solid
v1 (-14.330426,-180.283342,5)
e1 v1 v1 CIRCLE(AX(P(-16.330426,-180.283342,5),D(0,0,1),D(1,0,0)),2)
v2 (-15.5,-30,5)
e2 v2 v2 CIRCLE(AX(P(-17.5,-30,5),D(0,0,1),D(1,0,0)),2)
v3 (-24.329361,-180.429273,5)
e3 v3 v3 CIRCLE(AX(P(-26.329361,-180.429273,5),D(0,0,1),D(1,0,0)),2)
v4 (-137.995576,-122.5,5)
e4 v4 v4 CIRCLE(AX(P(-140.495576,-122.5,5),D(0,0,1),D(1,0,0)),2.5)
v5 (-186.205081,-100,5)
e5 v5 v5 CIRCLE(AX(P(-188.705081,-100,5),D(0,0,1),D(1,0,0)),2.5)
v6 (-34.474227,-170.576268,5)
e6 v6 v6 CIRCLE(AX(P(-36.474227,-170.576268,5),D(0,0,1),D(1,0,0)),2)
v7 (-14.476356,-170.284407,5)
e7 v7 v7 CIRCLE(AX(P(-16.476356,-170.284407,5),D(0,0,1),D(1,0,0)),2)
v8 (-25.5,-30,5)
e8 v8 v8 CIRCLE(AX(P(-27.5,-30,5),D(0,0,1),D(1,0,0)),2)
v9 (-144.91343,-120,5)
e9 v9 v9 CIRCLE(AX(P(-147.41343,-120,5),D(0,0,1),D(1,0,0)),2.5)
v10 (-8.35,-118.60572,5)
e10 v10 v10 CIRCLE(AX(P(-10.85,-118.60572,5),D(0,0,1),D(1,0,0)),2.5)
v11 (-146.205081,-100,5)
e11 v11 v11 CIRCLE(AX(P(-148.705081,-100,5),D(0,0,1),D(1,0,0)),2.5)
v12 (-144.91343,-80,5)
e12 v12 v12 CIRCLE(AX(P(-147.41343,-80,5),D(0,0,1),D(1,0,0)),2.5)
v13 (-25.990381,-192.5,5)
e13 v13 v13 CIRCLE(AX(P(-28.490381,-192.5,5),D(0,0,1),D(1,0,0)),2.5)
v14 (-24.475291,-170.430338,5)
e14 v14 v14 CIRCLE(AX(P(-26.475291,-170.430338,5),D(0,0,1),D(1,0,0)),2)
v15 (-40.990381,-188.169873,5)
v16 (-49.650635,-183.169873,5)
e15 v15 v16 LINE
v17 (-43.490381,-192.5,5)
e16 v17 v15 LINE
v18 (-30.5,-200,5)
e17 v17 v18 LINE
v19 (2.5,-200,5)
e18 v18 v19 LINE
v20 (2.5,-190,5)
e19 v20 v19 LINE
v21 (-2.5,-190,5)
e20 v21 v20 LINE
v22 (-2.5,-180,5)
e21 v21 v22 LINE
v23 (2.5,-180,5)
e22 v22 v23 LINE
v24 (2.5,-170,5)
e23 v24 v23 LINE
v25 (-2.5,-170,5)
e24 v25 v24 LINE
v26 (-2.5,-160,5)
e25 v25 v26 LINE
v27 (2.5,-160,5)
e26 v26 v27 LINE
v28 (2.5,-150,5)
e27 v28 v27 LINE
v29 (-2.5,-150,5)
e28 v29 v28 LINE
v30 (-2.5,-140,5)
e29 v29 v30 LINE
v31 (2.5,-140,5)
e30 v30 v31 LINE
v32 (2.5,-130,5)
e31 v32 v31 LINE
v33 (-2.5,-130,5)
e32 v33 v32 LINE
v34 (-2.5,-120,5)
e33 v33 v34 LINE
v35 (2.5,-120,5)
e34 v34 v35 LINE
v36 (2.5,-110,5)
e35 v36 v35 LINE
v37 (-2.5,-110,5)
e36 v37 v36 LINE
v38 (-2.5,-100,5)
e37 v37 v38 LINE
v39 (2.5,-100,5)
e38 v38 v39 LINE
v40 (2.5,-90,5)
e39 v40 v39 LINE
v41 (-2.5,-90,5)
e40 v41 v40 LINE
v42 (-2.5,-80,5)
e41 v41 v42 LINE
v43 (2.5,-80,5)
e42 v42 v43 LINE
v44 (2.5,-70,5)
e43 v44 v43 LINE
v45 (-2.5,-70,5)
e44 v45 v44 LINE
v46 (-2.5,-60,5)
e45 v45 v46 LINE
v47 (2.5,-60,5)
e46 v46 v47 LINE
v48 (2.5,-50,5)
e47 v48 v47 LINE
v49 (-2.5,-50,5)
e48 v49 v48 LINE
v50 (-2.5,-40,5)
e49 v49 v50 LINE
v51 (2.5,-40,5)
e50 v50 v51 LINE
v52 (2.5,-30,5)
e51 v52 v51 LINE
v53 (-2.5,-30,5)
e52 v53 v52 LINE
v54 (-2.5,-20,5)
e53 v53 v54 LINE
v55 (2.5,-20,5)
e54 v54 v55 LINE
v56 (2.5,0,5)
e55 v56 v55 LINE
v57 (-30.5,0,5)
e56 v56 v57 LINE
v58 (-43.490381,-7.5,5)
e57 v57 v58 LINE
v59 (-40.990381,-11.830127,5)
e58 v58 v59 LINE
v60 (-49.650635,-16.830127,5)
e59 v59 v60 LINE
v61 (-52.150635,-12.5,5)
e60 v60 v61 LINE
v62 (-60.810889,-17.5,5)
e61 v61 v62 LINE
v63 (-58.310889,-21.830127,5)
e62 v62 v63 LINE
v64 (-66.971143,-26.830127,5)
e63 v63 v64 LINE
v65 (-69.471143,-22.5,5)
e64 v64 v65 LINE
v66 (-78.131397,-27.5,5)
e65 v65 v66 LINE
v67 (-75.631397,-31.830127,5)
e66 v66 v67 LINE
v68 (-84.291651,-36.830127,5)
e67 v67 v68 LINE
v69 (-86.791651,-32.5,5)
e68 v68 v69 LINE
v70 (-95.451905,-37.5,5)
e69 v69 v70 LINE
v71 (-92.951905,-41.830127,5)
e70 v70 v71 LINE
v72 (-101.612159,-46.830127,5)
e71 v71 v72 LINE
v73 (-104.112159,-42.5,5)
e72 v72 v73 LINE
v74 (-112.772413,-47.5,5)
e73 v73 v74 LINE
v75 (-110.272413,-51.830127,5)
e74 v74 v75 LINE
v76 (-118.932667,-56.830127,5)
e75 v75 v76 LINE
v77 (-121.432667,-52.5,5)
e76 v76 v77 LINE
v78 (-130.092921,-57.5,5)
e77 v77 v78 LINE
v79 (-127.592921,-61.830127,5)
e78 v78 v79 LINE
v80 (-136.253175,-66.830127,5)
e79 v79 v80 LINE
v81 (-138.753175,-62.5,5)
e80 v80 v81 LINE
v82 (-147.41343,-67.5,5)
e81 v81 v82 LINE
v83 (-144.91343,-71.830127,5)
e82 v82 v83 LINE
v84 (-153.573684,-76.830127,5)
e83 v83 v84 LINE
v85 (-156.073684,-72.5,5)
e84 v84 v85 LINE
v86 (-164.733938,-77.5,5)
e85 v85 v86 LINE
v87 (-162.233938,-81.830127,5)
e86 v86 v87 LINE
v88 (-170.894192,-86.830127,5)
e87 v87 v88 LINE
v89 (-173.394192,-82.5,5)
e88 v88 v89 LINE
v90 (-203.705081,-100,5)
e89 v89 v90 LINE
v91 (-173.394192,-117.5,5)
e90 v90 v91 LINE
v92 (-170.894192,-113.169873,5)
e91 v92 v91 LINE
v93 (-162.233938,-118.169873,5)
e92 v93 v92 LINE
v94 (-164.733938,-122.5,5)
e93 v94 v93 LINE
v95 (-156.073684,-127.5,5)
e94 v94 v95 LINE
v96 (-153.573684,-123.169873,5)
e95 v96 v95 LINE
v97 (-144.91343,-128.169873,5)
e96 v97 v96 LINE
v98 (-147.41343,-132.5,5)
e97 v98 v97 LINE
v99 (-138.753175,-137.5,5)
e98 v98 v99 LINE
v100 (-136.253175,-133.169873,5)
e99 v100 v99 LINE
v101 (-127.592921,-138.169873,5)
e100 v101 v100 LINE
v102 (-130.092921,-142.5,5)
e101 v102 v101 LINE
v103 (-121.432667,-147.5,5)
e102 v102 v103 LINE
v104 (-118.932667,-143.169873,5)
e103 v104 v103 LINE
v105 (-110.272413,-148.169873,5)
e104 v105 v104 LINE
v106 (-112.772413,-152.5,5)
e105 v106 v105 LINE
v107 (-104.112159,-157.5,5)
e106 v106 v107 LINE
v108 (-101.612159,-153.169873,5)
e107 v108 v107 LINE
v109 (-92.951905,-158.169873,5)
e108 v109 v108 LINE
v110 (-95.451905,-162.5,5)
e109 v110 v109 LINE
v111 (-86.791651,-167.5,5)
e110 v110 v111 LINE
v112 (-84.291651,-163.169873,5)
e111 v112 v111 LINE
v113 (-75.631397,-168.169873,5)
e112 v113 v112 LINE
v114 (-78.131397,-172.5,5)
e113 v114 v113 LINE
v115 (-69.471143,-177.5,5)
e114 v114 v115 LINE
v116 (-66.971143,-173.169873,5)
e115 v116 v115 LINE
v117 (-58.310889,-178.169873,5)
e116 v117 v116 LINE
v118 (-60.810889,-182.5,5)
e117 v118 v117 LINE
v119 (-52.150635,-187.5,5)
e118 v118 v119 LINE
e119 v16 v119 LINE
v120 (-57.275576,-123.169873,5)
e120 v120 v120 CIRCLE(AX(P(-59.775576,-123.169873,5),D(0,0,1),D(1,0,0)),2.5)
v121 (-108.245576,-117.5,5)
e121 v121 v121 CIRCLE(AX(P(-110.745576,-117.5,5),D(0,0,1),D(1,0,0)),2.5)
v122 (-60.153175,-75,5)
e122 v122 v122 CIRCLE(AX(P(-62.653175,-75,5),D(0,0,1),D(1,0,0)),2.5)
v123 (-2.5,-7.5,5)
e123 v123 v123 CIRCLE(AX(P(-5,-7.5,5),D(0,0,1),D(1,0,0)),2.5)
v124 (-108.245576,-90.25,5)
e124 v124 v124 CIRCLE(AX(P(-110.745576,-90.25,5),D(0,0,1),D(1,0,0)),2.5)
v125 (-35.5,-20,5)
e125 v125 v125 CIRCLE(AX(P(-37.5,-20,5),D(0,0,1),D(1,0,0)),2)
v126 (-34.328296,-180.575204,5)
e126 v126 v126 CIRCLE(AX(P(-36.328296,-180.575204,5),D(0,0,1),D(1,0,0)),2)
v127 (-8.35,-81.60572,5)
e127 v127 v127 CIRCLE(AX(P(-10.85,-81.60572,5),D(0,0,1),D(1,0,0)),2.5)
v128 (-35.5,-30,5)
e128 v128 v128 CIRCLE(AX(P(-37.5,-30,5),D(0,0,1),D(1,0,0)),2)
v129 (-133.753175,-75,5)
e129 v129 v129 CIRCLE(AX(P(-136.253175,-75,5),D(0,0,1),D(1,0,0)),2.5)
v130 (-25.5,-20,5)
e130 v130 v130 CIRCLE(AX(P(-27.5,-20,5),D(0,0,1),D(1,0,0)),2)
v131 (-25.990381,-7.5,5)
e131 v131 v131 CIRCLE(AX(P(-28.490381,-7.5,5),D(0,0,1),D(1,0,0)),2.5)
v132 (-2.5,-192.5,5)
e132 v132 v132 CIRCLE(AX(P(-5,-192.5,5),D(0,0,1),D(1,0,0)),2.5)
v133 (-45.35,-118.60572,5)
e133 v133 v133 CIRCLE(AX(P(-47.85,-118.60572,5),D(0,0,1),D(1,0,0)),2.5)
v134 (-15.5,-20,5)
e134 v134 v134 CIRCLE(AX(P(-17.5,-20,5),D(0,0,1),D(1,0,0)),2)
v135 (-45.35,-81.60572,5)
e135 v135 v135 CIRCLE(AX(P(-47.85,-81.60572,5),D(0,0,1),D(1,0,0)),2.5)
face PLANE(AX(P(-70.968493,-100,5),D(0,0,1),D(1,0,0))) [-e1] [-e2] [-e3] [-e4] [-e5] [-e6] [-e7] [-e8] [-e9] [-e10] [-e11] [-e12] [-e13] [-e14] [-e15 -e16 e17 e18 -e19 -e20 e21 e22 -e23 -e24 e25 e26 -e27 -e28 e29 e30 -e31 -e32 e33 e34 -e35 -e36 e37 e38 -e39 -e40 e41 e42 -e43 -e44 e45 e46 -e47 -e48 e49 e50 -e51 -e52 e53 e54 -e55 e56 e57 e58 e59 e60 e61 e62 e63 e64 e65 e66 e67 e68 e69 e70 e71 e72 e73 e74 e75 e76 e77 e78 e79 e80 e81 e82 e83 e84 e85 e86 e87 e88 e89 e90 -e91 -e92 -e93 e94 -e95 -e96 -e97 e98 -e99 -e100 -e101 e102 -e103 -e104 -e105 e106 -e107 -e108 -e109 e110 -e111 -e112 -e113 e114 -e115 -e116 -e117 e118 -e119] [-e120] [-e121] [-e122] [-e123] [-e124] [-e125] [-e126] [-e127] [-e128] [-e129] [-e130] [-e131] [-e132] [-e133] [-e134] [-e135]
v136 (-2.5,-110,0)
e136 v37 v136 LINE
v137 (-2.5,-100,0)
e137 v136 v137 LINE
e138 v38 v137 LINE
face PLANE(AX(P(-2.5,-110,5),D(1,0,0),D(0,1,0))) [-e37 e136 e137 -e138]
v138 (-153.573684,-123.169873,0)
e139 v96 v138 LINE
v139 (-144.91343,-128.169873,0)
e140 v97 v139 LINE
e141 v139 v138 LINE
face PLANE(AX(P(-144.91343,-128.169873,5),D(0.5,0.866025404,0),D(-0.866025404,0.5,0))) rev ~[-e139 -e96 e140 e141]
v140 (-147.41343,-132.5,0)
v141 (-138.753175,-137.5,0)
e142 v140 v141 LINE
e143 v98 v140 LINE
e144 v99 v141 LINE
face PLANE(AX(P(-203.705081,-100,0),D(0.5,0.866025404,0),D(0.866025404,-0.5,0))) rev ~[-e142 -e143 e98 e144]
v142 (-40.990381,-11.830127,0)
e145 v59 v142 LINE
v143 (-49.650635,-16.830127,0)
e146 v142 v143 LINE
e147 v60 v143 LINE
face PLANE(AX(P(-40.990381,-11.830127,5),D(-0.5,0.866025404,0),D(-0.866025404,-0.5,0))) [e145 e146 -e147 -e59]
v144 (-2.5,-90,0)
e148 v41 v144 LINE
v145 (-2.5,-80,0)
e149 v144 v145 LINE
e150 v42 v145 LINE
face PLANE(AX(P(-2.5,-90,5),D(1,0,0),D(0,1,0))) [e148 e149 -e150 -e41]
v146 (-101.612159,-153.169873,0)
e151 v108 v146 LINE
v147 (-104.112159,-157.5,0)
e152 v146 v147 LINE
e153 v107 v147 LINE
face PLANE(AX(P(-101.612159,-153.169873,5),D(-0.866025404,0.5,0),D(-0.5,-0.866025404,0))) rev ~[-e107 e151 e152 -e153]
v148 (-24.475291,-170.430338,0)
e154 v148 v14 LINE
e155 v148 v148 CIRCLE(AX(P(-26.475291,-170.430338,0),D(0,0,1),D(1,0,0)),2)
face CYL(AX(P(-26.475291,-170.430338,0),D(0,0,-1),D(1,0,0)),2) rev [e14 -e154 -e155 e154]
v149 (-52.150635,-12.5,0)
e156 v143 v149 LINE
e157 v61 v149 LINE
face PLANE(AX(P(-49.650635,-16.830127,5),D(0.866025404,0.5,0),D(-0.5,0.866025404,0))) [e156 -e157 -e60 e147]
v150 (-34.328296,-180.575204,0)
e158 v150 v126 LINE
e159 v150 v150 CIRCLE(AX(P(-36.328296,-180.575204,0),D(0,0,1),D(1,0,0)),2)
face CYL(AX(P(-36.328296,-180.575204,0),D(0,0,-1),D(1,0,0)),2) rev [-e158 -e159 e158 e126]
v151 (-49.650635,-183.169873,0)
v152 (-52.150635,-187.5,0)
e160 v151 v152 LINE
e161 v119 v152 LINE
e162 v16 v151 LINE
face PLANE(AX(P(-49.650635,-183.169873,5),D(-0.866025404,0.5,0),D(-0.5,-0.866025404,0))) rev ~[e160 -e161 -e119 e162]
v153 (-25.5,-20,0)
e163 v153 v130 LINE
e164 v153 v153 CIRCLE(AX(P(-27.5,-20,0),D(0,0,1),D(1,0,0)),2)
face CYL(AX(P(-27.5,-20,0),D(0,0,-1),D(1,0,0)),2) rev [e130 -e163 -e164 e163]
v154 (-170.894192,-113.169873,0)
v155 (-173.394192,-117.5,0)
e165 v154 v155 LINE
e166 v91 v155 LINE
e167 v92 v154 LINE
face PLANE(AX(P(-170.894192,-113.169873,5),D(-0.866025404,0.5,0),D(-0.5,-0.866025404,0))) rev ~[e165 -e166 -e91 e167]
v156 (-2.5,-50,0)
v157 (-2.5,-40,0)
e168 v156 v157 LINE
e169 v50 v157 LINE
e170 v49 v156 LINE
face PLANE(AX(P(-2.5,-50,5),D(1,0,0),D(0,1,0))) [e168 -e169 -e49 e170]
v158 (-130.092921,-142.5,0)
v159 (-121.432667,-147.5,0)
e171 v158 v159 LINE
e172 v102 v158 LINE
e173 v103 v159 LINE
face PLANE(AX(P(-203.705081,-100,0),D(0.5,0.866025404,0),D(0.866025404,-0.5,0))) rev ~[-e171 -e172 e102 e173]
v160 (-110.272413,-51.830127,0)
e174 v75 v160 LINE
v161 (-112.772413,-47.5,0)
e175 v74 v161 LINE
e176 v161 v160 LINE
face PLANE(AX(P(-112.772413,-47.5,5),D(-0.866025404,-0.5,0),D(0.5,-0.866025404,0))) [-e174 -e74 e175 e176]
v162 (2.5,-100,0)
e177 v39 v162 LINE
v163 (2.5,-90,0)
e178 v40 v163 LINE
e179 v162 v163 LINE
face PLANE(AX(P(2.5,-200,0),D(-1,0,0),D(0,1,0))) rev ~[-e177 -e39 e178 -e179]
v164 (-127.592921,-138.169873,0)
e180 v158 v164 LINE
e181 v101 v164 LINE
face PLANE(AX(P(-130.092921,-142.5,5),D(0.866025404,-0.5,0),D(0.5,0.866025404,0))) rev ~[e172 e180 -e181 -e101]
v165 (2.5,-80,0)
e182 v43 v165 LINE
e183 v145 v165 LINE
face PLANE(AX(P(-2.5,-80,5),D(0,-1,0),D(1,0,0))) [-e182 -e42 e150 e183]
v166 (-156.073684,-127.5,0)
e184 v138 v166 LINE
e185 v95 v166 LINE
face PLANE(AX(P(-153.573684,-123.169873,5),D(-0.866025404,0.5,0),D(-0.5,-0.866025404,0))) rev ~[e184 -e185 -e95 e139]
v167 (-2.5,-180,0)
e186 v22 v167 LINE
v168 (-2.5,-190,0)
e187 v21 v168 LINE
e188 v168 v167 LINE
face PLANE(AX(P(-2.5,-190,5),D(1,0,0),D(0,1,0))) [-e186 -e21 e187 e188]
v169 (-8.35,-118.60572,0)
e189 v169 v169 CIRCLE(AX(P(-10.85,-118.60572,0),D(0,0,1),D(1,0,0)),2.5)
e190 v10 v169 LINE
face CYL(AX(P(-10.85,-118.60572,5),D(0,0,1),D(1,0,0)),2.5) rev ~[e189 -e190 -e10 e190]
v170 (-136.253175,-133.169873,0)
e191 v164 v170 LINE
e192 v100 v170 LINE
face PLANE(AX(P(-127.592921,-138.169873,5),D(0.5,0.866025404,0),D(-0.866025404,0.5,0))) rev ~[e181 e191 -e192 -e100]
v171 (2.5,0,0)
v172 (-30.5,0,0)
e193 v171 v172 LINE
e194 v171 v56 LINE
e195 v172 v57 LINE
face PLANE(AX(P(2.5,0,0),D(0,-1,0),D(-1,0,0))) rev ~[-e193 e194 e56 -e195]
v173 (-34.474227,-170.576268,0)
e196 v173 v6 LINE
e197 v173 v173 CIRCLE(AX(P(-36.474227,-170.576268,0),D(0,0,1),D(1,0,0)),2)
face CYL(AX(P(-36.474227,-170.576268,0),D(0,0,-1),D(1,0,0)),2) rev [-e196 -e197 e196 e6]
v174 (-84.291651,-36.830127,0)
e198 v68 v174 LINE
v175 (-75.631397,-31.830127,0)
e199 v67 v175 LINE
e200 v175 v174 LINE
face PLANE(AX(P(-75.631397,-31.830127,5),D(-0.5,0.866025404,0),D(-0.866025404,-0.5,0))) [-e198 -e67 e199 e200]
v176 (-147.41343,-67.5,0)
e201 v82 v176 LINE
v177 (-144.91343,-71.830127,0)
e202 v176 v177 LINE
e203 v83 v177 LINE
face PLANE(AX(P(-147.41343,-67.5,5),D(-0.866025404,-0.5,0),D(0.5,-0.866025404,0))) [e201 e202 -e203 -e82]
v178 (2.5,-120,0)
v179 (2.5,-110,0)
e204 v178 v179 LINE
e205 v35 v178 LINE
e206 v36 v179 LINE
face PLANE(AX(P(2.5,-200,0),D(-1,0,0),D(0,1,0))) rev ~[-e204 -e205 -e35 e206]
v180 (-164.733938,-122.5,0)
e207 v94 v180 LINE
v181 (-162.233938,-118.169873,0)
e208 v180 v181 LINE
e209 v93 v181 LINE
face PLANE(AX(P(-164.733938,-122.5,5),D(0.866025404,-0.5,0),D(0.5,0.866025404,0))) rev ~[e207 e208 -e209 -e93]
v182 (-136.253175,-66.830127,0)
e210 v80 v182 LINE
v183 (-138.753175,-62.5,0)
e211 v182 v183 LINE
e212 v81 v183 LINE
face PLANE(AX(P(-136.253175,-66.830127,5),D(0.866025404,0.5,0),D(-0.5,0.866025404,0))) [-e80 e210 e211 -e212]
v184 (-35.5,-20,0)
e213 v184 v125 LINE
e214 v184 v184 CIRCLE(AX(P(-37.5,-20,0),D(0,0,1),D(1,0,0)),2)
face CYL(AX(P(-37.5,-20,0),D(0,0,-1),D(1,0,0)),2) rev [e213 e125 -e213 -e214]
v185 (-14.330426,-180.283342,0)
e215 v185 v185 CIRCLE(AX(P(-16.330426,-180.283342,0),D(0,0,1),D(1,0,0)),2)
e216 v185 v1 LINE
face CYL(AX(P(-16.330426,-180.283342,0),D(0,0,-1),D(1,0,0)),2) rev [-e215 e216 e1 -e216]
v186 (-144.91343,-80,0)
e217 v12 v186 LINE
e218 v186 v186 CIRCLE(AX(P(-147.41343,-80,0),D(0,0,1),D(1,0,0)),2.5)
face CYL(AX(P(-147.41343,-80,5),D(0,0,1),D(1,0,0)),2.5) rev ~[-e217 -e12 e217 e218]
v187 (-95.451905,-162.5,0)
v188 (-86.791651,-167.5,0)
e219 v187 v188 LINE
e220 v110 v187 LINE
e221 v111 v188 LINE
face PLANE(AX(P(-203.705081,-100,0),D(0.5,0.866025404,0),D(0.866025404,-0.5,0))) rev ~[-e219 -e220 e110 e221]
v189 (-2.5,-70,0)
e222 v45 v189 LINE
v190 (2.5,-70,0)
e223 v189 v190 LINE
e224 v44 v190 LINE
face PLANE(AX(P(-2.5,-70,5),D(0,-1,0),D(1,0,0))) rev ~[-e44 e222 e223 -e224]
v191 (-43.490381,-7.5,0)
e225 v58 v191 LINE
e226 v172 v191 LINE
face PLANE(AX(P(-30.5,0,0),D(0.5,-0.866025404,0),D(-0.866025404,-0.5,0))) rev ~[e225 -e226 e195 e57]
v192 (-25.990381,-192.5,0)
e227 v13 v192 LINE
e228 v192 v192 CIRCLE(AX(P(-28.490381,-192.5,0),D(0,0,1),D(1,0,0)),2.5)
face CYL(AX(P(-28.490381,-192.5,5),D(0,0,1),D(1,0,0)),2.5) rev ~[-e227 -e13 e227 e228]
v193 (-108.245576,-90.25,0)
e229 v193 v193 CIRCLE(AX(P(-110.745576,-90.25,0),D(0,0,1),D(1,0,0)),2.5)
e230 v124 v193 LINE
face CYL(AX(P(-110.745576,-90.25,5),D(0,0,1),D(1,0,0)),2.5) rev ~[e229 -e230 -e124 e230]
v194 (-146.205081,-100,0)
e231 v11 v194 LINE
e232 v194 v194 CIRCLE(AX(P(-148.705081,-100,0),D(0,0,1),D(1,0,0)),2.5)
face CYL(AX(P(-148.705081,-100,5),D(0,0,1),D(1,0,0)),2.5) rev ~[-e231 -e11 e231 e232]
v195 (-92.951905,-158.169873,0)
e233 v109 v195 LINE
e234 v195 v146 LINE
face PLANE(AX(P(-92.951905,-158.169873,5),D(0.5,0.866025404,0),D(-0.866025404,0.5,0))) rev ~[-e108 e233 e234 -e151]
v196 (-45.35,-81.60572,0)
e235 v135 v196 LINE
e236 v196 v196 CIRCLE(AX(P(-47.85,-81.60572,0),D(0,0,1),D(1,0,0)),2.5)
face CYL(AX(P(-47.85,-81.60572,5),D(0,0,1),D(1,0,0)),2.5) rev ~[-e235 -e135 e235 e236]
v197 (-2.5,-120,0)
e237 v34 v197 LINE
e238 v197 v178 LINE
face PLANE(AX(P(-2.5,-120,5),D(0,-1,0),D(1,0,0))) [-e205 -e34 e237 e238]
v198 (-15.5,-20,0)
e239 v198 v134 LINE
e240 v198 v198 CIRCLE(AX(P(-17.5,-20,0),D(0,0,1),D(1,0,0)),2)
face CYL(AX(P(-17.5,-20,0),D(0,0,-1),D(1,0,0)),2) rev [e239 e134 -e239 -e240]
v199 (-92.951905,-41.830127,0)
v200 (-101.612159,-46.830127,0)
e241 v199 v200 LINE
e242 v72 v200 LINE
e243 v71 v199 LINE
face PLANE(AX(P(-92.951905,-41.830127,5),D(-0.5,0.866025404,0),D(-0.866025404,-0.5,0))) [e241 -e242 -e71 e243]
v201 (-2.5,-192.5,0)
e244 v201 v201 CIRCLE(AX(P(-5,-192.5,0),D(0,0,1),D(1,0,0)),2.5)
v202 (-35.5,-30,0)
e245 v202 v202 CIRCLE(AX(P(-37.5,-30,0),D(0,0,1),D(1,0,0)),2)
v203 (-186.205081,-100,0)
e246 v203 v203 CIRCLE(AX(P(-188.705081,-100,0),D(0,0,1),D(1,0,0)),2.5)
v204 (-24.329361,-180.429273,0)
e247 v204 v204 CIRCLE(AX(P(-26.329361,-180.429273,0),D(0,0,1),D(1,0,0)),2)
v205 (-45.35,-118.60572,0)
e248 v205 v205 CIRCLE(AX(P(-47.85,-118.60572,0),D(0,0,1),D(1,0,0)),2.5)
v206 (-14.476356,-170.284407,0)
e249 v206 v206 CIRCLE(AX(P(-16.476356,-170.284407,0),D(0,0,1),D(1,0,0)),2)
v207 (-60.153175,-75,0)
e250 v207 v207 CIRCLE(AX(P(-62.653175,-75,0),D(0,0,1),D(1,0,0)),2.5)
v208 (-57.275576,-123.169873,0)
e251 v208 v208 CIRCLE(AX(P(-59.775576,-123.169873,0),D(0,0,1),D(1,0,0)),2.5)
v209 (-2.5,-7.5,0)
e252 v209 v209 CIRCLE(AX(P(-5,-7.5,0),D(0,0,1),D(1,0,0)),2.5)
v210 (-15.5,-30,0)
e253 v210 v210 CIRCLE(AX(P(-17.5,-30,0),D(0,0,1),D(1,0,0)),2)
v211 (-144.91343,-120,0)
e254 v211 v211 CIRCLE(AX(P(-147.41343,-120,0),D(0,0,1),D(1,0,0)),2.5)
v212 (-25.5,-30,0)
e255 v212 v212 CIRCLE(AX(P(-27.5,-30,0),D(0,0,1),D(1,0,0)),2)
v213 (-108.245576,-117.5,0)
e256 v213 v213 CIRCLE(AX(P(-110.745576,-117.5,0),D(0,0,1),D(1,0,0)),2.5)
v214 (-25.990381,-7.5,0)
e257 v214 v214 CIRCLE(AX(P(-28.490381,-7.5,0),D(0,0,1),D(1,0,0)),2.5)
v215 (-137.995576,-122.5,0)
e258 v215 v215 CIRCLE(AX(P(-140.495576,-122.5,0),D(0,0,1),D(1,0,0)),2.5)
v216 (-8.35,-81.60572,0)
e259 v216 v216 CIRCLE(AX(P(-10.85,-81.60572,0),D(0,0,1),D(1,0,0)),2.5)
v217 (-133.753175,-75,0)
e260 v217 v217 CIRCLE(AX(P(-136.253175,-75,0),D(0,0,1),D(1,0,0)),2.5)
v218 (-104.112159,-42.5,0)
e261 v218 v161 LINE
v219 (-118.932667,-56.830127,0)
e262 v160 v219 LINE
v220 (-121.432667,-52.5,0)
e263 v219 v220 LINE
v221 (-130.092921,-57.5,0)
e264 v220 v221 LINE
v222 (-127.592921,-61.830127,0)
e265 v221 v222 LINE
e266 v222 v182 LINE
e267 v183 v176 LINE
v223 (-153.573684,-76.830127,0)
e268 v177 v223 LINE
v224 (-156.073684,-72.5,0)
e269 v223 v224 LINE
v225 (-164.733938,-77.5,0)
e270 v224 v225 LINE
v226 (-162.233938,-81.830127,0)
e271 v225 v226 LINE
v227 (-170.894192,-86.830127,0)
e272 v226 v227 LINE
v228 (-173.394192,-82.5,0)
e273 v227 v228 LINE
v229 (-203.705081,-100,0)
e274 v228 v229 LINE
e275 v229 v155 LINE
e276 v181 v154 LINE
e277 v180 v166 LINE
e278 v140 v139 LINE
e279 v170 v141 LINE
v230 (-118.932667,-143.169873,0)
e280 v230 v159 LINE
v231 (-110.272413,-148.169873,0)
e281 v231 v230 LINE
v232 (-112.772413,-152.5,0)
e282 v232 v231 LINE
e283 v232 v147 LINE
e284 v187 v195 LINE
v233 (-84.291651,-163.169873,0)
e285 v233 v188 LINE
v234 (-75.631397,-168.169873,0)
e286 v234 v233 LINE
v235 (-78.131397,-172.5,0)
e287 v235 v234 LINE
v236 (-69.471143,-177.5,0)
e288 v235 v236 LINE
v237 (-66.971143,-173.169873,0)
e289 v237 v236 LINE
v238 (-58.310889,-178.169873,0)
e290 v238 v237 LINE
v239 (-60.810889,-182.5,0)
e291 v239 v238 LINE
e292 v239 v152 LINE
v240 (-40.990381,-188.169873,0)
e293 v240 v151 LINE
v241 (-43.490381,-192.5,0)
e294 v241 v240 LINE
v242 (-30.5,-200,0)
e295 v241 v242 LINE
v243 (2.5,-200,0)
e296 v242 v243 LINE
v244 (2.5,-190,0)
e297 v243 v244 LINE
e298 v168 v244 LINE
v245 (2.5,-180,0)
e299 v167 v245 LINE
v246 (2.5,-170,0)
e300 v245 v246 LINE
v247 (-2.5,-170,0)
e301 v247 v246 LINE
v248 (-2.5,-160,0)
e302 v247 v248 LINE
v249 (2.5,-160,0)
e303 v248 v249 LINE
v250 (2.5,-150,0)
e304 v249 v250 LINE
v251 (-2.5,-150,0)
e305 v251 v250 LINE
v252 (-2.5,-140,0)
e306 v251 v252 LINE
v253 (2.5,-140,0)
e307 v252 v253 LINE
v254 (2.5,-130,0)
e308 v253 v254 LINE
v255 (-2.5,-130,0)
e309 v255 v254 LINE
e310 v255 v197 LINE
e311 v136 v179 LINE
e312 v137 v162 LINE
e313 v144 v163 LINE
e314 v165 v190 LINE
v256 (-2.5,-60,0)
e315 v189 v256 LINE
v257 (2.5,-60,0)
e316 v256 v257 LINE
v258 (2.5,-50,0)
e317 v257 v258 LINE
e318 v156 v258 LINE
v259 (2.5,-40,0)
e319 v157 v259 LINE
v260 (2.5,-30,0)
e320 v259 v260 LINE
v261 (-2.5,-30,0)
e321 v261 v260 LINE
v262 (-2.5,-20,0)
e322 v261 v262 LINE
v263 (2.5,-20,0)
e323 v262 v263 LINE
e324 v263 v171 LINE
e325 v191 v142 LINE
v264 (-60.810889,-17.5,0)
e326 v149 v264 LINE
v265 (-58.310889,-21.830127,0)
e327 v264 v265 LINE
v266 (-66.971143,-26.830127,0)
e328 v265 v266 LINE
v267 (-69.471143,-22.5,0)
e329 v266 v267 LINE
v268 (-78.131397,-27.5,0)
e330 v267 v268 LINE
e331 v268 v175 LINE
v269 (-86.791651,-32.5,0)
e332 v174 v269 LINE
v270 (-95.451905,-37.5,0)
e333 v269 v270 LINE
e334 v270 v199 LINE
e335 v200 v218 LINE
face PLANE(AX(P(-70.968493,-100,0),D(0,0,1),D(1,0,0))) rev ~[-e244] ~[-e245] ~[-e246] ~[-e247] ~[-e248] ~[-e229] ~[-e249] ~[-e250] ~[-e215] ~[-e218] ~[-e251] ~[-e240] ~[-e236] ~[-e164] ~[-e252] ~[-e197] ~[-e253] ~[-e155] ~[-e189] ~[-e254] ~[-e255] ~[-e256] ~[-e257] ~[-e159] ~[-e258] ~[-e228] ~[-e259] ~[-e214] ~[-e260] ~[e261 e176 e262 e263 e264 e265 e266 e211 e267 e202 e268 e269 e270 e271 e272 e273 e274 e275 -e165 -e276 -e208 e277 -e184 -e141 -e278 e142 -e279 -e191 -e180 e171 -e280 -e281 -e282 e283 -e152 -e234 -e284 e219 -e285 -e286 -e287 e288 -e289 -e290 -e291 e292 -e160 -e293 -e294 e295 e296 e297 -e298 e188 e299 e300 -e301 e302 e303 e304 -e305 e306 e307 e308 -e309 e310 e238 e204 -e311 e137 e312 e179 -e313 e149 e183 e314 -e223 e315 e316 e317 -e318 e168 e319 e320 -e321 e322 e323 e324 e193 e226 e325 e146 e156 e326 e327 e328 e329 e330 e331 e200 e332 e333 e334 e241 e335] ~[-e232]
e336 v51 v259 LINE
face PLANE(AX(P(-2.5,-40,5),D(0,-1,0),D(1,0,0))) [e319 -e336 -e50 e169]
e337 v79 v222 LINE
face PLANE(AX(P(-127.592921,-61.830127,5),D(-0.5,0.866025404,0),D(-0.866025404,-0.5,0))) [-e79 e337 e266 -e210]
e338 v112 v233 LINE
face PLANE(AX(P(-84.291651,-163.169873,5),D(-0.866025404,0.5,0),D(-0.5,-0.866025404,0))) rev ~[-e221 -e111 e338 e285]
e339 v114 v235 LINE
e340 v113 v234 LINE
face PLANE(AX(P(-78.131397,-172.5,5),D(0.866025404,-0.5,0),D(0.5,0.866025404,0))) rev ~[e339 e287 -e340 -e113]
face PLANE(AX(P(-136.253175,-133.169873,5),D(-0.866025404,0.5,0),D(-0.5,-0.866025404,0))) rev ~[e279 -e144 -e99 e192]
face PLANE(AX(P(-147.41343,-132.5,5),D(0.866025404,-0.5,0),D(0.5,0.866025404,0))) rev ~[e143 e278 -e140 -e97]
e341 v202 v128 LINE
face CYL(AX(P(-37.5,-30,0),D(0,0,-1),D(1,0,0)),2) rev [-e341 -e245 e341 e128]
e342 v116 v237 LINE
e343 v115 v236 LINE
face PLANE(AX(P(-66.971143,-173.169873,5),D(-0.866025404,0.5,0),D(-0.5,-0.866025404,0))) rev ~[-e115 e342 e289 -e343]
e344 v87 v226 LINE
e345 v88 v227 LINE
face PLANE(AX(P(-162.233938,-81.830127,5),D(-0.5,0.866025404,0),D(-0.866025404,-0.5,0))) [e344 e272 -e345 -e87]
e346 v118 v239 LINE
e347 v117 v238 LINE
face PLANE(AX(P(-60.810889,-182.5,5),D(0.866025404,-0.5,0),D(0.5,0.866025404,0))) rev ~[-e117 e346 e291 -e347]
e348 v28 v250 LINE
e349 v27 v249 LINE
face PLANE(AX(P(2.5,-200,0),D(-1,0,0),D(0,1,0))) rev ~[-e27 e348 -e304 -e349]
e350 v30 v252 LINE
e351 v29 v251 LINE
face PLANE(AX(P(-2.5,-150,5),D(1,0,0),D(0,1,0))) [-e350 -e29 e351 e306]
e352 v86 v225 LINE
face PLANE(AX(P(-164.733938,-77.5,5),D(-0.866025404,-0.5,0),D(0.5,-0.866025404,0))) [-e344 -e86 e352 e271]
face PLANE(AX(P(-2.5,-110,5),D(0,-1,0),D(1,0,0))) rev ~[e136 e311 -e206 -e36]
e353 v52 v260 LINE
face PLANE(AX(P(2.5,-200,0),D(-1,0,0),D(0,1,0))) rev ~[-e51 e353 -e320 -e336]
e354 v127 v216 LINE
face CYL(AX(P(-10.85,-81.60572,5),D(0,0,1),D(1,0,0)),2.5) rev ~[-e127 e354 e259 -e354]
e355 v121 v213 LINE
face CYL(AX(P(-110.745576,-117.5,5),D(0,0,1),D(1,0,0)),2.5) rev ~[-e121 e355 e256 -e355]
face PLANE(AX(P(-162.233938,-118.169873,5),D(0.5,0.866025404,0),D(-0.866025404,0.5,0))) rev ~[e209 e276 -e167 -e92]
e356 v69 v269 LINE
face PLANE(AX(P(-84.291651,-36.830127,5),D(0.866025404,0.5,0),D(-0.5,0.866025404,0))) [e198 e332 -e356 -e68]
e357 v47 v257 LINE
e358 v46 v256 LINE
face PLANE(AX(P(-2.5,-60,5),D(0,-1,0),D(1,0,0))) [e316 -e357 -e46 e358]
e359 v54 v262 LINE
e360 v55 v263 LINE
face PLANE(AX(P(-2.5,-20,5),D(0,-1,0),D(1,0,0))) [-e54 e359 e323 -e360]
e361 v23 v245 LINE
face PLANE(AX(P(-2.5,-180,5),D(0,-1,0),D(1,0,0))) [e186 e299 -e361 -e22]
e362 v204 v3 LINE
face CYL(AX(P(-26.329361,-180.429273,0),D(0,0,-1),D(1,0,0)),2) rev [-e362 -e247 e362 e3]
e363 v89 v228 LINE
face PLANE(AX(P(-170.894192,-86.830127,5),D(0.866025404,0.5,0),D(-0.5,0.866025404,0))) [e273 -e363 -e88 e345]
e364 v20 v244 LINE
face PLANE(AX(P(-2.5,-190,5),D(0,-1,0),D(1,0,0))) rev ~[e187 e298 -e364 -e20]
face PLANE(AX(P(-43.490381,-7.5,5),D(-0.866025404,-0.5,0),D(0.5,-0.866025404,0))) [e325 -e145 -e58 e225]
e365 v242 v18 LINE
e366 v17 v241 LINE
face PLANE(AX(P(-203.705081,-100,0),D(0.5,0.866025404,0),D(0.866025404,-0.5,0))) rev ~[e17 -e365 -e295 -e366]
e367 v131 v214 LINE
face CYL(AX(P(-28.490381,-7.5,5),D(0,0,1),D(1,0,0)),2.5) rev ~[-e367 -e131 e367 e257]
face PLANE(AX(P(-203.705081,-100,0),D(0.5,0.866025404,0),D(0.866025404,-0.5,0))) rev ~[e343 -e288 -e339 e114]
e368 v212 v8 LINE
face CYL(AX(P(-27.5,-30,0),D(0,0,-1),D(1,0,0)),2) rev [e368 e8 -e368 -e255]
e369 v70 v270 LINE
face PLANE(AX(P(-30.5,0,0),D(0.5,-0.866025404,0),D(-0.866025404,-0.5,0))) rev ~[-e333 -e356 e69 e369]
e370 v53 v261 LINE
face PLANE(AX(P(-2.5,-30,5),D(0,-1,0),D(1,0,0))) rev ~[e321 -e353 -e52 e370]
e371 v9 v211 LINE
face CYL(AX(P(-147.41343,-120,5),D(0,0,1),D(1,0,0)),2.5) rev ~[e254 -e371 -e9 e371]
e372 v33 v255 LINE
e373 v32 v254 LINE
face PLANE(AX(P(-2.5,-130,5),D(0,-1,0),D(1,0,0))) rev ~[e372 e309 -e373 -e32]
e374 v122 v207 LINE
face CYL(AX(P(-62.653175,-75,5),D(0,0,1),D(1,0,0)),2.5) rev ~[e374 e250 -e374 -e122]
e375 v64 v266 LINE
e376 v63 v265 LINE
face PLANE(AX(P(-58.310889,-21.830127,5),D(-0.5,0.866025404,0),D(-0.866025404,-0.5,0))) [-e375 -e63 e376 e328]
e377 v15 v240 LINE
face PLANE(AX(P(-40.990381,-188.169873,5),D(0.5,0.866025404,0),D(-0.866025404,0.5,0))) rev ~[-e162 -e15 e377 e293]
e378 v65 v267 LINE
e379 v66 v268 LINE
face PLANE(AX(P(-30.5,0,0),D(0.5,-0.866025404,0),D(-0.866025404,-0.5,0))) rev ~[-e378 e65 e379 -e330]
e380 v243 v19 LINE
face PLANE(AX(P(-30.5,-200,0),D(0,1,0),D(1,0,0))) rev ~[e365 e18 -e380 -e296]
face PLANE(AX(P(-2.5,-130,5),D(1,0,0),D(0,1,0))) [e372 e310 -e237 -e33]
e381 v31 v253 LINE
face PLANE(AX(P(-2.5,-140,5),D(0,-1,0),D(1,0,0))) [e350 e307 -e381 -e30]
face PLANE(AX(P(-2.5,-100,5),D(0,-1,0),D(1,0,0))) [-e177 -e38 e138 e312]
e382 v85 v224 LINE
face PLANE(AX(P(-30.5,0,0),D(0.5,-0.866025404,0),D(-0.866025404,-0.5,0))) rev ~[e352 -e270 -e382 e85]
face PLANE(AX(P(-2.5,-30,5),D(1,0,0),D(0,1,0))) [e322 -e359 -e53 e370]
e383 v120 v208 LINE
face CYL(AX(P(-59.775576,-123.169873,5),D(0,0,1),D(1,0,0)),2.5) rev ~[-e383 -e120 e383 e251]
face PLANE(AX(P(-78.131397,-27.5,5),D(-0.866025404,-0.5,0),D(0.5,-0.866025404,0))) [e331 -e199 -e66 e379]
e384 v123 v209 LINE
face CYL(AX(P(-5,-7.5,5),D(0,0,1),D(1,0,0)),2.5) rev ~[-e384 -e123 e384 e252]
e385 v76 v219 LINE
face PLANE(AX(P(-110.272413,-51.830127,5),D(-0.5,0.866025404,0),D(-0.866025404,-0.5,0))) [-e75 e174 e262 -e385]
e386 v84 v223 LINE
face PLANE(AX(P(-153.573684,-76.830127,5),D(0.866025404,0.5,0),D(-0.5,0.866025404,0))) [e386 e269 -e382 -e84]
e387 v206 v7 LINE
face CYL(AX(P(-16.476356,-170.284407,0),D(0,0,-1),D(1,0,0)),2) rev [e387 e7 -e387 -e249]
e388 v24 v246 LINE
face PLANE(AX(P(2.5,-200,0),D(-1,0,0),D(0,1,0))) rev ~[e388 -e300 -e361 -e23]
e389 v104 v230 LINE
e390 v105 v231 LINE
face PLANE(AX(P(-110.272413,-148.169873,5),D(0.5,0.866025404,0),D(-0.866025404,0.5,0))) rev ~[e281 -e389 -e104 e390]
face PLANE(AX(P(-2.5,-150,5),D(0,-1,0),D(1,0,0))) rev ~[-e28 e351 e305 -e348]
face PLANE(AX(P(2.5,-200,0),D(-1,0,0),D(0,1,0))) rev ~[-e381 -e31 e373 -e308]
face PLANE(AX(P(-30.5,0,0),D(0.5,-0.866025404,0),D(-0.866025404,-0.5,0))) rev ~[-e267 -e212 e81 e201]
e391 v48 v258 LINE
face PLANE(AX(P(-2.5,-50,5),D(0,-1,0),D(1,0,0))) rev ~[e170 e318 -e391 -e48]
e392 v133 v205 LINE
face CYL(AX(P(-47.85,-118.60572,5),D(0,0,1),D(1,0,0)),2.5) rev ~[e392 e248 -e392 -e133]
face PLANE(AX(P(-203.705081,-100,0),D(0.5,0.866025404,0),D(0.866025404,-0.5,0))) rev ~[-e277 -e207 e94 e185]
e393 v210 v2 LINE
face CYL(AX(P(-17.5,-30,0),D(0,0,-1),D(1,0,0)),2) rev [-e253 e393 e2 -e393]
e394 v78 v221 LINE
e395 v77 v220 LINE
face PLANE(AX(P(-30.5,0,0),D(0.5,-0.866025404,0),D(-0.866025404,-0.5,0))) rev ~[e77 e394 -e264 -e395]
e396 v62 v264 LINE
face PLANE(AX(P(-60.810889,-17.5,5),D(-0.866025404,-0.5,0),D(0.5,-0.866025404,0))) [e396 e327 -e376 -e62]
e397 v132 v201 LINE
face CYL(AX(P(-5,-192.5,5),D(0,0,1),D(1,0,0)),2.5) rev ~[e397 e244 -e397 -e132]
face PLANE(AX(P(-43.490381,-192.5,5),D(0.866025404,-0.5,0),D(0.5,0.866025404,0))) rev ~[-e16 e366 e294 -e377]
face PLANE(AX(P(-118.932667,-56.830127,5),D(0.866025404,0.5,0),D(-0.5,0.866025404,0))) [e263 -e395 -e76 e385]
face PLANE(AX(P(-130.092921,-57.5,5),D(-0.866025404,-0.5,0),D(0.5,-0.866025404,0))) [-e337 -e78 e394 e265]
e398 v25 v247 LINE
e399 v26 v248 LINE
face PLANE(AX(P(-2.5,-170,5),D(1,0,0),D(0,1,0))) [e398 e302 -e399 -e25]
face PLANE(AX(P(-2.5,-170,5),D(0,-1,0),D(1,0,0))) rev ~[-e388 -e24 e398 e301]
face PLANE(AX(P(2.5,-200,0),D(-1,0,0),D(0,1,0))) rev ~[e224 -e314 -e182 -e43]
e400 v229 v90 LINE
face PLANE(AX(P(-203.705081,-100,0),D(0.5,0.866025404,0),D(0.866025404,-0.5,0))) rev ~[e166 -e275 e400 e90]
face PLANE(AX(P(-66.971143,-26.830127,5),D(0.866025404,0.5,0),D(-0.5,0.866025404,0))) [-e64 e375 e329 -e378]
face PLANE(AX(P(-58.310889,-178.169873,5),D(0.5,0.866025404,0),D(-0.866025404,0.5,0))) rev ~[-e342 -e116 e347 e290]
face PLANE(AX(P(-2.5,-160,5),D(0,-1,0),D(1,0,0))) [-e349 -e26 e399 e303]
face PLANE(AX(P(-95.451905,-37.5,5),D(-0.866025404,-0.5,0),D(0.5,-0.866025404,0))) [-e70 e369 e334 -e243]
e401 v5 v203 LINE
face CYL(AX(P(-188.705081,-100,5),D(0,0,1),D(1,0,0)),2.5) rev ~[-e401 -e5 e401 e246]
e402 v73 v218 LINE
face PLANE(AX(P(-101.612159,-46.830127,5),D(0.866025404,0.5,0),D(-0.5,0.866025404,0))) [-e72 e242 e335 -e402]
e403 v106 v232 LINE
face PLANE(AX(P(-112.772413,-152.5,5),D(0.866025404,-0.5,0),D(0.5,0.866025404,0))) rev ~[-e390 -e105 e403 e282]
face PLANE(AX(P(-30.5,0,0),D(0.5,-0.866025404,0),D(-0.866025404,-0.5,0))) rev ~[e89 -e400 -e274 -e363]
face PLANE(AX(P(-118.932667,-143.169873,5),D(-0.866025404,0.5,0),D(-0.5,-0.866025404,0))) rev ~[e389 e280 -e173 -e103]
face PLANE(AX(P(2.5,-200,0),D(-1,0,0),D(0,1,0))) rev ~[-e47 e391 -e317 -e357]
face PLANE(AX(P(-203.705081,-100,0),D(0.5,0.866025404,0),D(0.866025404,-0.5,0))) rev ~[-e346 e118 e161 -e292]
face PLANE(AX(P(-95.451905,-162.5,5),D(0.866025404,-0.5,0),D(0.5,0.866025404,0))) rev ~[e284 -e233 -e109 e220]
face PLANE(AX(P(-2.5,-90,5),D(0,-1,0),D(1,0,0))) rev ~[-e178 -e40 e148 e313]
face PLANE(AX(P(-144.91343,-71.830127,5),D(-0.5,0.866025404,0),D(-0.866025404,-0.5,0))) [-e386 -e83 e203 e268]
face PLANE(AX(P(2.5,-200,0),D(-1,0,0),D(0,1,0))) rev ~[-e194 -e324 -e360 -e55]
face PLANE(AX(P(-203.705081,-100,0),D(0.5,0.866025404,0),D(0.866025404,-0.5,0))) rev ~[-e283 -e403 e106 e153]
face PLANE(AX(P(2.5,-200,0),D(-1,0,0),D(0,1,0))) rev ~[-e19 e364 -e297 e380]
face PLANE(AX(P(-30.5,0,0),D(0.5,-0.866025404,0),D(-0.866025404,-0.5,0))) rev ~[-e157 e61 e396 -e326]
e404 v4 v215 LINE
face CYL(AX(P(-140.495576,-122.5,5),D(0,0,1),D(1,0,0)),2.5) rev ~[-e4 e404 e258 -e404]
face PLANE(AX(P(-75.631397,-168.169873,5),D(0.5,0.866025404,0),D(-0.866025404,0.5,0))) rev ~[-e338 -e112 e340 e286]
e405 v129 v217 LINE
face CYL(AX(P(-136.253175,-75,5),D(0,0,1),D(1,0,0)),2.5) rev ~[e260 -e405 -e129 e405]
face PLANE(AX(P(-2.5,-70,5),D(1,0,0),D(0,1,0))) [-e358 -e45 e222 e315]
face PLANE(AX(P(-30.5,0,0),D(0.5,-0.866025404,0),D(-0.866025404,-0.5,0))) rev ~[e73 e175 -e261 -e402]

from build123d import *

# Parameters (mm, degrees)
SKETCH1_R               = 2
BOSS_EXTRUDE1_DEPTH     = 5
SKETCH2_R               = 2.5
CUT_EXTRUDE1_DEPTH      = 1
CUT_EXTRUDE1_DEPTH_BACK = 6
SKETCH3_R               = 2.5
SKETCH3_W               = 5
SKETCH3_H               = 10
CUT_EXTRUDE5_DEPTH      = 1
CUT_EXTRUDE5_DEPTH_BACK = 6


with BuildPart() as part:
    # Sketch1 → Boss-Extrude1 (new body)
    with BuildSketch(Plane.XY):
        Polygon((2.5, 0), (-30.5, 0), (-203.705080757, -100), (-30.5, -200), (2.5, -200), align=None)
        with Locations((-17.5, -20)):
            Circle(SKETCH1_R, mode=Mode.SUBTRACT)
        with Locations((-27.5, -20)):
            Circle(SKETCH1_R, mode=Mode.SUBTRACT)
        with Locations((-37.5, -20)):
            Circle(SKETCH1_R, mode=Mode.SUBTRACT)
        with Locations((-27.5, -30)):
            Circle(SKETCH1_R, mode=Mode.SUBTRACT)
        with Locations((-37.5, -30)):
            Circle(SKETCH1_R, mode=Mode.SUBTRACT)
        with Locations((-17.5, -30)):
            Circle(SKETCH1_R, mode=Mode.SUBTRACT)
        with Locations((-36.32829598, -180.575203576)):
            Circle(SKETCH1_R, mode=Mode.SUBTRACT)
        with Locations((-26.329360823, -180.429272995)):
            Circle(SKETCH1_R, mode=Mode.SUBTRACT)
        with Locations((-26.475291404, -170.430337839)):
            Circle(SKETCH1_R, mode=Mode.SUBTRACT)
        with Locations((-16.476356247, -170.284407258)):
            Circle(SKETCH1_R, mode=Mode.SUBTRACT)
        with Locations((-16.330425667, -180.283342414)):
            Circle(SKETCH1_R, mode=Mode.SUBTRACT)
        with Locations((-36.474226561, -170.576268419)):
            Circle(SKETCH1_R, mode=Mode.SUBTRACT)
    extrude(amount=BOSS_EXTRUDE1_DEPTH)

    # Sketch2 → Cut-Extrude1 (cut, two sides)
    with BuildSketch(Plane.XY.offset(5)) as cut_extrude1_sk:
        with Locations((-188.705080757, -100)):
            Circle(SKETCH2_R)
        with Locations((-5, -192.5)):
            Circle(SKETCH2_R)
        with Locations((-10.85, -118.605720398)):
            Circle(SKETCH2_R)
        with Locations((-47.85, -118.605720398)):
            Circle(SKETCH2_R)
        with Locations((-5, -7.5)):
            Circle(SKETCH2_R)
        with Locations((-47.85, -81.605720398)):
            Circle(SKETCH2_R)
        with Locations((-28.490381057, -192.5)):
            Circle(SKETCH2_R)
        with Locations((-10.85, -81.605720398)):
            Circle(SKETCH2_R)
        with Locations((-28.490381057, -7.5)):
            Circle(SKETCH2_R)
    extrude(amount=CUT_EXTRUDE1_DEPTH, mode=Mode.SUBTRACT)
    extrude(cut_extrude1_sk.sketch, amount=-CUT_EXTRUDE1_DEPTH_BACK, mode=Mode.SUBTRACT)

    # Sketch3 → Cut-Extrude5 (cut, two sides)
    with BuildSketch(Plane.XY.offset(5)) as cut_extrude5_sk:
        with Locations((-136.253175473, -75)):
            Circle(SKETCH3_R)
        with Locations((-62.653175473, -75)):
            Circle(SKETCH3_R)
        with Locations((-140.495575744, -122.5)):
            Circle(SKETCH3_R)
        with Locations((-59.775575744, -123.169872981)):
            Circle(SKETCH3_R)
        with Locations((-110.745575744, -117.5)):
            Circle(SKETCH3_R)
        with Locations((-110.745575744, -90.25)):
            Circle(SKETCH3_R)
        with Locations((-148.705080757, -100)):
            Circle(SKETCH3_R)
        with Locations((-147.413429511, -80)):
            Circle(SKETCH3_R)
        with Locations((-147.413429511, -120)):
            Circle(SKETCH3_R)
        Polygon((-121.432667397, -52.5), (-112.77241336, -47.5), (-110.27241336, -51.830127019), (-118.932667397, -56.830127019), align=None)
        Polygon((-101.612159322, -46.830127019), (-104.112159322, -42.5), (-95.451905284, -37.5), (-92.951905284, -41.830127019), align=None)
        Polygon((-84.291651246, -36.830127019), (-86.791651246, -32.5), (-78.131397208, -27.5), (-75.631397208, -31.830127019), align=None)
        Polygon((-66.97114317, -26.830127019), (-69.47114317, -22.5), (-60.810889132, -17.5), (-58.310889132, -21.830127019), align=None)
        Polygon((-49.650635095, -16.830127019), (-52.150635095, -12.5), (-43.490381057, -7.5), (-40.990381057, -11.830127019), align=None)
        Polygon((-136.253175473, -66.830127019), (-138.753175473, -62.5), (-130.092921435, -57.5), (-127.592921435, -61.830127019), align=None)
        Polygon((-153.573683549, -76.830127019), (-156.073683549, -72.5), (-147.413429511, -67.5), (-144.913429511, -71.830127019), align=None)
        Polygon((-170.894191624, -86.830127019), (-173.394191624, -82.5), (-164.733937587, -77.5), (-162.233937587, -81.830127019), align=None)
        Polygon((-112.77241336, -152.5), (-110.27241336, -148.169872981), (-118.932667397, -143.169872981), (-121.432667397, -147.5), align=None)
        Polygon((-173.394191624, -117.5), (-164.733937587, -122.5), (-162.233937587, -118.169872981), (-170.894191624, -113.169872981), align=None)
        Polygon((-156.073683549, -127.5), (-147.413429511, -132.5), (-144.913429511, -128.169872981), (-153.573683549, -123.169872981), align=None)
        Polygon((-138.753175473, -137.5), (-130.092921435, -142.5), (-127.592921435, -138.169872981), (-136.253175473, -133.169872981), align=None)
        Polygon((-52.150635095, -187.5), (-43.490381057, -192.5), (-40.990381057, -188.169872981), (-49.650635095, -183.169872981), align=None)
        Polygon((-69.47114317, -177.5), (-60.810889132, -182.5), (-58.310889132, -178.169872981), (-66.97114317, -173.169872981), align=None)
        Polygon((-86.791651246, -167.5), (-78.131397208, -172.5), (-75.631397208, -168.169872981), (-84.291651246, -163.169872981), align=None)
        Polygon((-104.112159322, -157.5), (-95.451905284, -162.5), (-92.951905284, -158.169872981), (-101.612159322, -153.169872981), align=None)
        with Locations((0, -85)):
            Rectangle(SKETCH3_W, SKETCH3_H)
        with Locations((0, -105)):
            Rectangle(SKETCH3_W, SKETCH3_H)
        with Locations((0, -65)):
            Rectangle(SKETCH3_W, SKETCH3_H)
        with Locations((0, -45)):
            Rectangle(SKETCH3_W, SKETCH3_H)
        with Locations((0, -25)):
            Rectangle(SKETCH3_W, SKETCH3_H)
        with Locations((0, -125)):
            Rectangle(SKETCH3_W, SKETCH3_H)
        with Locations((0, -145)):
            Rectangle(SKETCH3_W, SKETCH3_H)
        with Locations((0, -165)):
            Rectangle(SKETCH3_W, SKETCH3_H)
        with Locations((0, -185)):
            Rectangle(SKETCH3_W, SKETCH3_H)
    extrude(amount=CUT_EXTRUDE5_DEPTH, mode=Mode.SUBTRACT)
    extrude(cut_extrude5_sk.sketch, amount=-CUT_EXTRUDE5_DEPTH_BACK, mode=Mode.SUBTRACT)


solid = part.part
